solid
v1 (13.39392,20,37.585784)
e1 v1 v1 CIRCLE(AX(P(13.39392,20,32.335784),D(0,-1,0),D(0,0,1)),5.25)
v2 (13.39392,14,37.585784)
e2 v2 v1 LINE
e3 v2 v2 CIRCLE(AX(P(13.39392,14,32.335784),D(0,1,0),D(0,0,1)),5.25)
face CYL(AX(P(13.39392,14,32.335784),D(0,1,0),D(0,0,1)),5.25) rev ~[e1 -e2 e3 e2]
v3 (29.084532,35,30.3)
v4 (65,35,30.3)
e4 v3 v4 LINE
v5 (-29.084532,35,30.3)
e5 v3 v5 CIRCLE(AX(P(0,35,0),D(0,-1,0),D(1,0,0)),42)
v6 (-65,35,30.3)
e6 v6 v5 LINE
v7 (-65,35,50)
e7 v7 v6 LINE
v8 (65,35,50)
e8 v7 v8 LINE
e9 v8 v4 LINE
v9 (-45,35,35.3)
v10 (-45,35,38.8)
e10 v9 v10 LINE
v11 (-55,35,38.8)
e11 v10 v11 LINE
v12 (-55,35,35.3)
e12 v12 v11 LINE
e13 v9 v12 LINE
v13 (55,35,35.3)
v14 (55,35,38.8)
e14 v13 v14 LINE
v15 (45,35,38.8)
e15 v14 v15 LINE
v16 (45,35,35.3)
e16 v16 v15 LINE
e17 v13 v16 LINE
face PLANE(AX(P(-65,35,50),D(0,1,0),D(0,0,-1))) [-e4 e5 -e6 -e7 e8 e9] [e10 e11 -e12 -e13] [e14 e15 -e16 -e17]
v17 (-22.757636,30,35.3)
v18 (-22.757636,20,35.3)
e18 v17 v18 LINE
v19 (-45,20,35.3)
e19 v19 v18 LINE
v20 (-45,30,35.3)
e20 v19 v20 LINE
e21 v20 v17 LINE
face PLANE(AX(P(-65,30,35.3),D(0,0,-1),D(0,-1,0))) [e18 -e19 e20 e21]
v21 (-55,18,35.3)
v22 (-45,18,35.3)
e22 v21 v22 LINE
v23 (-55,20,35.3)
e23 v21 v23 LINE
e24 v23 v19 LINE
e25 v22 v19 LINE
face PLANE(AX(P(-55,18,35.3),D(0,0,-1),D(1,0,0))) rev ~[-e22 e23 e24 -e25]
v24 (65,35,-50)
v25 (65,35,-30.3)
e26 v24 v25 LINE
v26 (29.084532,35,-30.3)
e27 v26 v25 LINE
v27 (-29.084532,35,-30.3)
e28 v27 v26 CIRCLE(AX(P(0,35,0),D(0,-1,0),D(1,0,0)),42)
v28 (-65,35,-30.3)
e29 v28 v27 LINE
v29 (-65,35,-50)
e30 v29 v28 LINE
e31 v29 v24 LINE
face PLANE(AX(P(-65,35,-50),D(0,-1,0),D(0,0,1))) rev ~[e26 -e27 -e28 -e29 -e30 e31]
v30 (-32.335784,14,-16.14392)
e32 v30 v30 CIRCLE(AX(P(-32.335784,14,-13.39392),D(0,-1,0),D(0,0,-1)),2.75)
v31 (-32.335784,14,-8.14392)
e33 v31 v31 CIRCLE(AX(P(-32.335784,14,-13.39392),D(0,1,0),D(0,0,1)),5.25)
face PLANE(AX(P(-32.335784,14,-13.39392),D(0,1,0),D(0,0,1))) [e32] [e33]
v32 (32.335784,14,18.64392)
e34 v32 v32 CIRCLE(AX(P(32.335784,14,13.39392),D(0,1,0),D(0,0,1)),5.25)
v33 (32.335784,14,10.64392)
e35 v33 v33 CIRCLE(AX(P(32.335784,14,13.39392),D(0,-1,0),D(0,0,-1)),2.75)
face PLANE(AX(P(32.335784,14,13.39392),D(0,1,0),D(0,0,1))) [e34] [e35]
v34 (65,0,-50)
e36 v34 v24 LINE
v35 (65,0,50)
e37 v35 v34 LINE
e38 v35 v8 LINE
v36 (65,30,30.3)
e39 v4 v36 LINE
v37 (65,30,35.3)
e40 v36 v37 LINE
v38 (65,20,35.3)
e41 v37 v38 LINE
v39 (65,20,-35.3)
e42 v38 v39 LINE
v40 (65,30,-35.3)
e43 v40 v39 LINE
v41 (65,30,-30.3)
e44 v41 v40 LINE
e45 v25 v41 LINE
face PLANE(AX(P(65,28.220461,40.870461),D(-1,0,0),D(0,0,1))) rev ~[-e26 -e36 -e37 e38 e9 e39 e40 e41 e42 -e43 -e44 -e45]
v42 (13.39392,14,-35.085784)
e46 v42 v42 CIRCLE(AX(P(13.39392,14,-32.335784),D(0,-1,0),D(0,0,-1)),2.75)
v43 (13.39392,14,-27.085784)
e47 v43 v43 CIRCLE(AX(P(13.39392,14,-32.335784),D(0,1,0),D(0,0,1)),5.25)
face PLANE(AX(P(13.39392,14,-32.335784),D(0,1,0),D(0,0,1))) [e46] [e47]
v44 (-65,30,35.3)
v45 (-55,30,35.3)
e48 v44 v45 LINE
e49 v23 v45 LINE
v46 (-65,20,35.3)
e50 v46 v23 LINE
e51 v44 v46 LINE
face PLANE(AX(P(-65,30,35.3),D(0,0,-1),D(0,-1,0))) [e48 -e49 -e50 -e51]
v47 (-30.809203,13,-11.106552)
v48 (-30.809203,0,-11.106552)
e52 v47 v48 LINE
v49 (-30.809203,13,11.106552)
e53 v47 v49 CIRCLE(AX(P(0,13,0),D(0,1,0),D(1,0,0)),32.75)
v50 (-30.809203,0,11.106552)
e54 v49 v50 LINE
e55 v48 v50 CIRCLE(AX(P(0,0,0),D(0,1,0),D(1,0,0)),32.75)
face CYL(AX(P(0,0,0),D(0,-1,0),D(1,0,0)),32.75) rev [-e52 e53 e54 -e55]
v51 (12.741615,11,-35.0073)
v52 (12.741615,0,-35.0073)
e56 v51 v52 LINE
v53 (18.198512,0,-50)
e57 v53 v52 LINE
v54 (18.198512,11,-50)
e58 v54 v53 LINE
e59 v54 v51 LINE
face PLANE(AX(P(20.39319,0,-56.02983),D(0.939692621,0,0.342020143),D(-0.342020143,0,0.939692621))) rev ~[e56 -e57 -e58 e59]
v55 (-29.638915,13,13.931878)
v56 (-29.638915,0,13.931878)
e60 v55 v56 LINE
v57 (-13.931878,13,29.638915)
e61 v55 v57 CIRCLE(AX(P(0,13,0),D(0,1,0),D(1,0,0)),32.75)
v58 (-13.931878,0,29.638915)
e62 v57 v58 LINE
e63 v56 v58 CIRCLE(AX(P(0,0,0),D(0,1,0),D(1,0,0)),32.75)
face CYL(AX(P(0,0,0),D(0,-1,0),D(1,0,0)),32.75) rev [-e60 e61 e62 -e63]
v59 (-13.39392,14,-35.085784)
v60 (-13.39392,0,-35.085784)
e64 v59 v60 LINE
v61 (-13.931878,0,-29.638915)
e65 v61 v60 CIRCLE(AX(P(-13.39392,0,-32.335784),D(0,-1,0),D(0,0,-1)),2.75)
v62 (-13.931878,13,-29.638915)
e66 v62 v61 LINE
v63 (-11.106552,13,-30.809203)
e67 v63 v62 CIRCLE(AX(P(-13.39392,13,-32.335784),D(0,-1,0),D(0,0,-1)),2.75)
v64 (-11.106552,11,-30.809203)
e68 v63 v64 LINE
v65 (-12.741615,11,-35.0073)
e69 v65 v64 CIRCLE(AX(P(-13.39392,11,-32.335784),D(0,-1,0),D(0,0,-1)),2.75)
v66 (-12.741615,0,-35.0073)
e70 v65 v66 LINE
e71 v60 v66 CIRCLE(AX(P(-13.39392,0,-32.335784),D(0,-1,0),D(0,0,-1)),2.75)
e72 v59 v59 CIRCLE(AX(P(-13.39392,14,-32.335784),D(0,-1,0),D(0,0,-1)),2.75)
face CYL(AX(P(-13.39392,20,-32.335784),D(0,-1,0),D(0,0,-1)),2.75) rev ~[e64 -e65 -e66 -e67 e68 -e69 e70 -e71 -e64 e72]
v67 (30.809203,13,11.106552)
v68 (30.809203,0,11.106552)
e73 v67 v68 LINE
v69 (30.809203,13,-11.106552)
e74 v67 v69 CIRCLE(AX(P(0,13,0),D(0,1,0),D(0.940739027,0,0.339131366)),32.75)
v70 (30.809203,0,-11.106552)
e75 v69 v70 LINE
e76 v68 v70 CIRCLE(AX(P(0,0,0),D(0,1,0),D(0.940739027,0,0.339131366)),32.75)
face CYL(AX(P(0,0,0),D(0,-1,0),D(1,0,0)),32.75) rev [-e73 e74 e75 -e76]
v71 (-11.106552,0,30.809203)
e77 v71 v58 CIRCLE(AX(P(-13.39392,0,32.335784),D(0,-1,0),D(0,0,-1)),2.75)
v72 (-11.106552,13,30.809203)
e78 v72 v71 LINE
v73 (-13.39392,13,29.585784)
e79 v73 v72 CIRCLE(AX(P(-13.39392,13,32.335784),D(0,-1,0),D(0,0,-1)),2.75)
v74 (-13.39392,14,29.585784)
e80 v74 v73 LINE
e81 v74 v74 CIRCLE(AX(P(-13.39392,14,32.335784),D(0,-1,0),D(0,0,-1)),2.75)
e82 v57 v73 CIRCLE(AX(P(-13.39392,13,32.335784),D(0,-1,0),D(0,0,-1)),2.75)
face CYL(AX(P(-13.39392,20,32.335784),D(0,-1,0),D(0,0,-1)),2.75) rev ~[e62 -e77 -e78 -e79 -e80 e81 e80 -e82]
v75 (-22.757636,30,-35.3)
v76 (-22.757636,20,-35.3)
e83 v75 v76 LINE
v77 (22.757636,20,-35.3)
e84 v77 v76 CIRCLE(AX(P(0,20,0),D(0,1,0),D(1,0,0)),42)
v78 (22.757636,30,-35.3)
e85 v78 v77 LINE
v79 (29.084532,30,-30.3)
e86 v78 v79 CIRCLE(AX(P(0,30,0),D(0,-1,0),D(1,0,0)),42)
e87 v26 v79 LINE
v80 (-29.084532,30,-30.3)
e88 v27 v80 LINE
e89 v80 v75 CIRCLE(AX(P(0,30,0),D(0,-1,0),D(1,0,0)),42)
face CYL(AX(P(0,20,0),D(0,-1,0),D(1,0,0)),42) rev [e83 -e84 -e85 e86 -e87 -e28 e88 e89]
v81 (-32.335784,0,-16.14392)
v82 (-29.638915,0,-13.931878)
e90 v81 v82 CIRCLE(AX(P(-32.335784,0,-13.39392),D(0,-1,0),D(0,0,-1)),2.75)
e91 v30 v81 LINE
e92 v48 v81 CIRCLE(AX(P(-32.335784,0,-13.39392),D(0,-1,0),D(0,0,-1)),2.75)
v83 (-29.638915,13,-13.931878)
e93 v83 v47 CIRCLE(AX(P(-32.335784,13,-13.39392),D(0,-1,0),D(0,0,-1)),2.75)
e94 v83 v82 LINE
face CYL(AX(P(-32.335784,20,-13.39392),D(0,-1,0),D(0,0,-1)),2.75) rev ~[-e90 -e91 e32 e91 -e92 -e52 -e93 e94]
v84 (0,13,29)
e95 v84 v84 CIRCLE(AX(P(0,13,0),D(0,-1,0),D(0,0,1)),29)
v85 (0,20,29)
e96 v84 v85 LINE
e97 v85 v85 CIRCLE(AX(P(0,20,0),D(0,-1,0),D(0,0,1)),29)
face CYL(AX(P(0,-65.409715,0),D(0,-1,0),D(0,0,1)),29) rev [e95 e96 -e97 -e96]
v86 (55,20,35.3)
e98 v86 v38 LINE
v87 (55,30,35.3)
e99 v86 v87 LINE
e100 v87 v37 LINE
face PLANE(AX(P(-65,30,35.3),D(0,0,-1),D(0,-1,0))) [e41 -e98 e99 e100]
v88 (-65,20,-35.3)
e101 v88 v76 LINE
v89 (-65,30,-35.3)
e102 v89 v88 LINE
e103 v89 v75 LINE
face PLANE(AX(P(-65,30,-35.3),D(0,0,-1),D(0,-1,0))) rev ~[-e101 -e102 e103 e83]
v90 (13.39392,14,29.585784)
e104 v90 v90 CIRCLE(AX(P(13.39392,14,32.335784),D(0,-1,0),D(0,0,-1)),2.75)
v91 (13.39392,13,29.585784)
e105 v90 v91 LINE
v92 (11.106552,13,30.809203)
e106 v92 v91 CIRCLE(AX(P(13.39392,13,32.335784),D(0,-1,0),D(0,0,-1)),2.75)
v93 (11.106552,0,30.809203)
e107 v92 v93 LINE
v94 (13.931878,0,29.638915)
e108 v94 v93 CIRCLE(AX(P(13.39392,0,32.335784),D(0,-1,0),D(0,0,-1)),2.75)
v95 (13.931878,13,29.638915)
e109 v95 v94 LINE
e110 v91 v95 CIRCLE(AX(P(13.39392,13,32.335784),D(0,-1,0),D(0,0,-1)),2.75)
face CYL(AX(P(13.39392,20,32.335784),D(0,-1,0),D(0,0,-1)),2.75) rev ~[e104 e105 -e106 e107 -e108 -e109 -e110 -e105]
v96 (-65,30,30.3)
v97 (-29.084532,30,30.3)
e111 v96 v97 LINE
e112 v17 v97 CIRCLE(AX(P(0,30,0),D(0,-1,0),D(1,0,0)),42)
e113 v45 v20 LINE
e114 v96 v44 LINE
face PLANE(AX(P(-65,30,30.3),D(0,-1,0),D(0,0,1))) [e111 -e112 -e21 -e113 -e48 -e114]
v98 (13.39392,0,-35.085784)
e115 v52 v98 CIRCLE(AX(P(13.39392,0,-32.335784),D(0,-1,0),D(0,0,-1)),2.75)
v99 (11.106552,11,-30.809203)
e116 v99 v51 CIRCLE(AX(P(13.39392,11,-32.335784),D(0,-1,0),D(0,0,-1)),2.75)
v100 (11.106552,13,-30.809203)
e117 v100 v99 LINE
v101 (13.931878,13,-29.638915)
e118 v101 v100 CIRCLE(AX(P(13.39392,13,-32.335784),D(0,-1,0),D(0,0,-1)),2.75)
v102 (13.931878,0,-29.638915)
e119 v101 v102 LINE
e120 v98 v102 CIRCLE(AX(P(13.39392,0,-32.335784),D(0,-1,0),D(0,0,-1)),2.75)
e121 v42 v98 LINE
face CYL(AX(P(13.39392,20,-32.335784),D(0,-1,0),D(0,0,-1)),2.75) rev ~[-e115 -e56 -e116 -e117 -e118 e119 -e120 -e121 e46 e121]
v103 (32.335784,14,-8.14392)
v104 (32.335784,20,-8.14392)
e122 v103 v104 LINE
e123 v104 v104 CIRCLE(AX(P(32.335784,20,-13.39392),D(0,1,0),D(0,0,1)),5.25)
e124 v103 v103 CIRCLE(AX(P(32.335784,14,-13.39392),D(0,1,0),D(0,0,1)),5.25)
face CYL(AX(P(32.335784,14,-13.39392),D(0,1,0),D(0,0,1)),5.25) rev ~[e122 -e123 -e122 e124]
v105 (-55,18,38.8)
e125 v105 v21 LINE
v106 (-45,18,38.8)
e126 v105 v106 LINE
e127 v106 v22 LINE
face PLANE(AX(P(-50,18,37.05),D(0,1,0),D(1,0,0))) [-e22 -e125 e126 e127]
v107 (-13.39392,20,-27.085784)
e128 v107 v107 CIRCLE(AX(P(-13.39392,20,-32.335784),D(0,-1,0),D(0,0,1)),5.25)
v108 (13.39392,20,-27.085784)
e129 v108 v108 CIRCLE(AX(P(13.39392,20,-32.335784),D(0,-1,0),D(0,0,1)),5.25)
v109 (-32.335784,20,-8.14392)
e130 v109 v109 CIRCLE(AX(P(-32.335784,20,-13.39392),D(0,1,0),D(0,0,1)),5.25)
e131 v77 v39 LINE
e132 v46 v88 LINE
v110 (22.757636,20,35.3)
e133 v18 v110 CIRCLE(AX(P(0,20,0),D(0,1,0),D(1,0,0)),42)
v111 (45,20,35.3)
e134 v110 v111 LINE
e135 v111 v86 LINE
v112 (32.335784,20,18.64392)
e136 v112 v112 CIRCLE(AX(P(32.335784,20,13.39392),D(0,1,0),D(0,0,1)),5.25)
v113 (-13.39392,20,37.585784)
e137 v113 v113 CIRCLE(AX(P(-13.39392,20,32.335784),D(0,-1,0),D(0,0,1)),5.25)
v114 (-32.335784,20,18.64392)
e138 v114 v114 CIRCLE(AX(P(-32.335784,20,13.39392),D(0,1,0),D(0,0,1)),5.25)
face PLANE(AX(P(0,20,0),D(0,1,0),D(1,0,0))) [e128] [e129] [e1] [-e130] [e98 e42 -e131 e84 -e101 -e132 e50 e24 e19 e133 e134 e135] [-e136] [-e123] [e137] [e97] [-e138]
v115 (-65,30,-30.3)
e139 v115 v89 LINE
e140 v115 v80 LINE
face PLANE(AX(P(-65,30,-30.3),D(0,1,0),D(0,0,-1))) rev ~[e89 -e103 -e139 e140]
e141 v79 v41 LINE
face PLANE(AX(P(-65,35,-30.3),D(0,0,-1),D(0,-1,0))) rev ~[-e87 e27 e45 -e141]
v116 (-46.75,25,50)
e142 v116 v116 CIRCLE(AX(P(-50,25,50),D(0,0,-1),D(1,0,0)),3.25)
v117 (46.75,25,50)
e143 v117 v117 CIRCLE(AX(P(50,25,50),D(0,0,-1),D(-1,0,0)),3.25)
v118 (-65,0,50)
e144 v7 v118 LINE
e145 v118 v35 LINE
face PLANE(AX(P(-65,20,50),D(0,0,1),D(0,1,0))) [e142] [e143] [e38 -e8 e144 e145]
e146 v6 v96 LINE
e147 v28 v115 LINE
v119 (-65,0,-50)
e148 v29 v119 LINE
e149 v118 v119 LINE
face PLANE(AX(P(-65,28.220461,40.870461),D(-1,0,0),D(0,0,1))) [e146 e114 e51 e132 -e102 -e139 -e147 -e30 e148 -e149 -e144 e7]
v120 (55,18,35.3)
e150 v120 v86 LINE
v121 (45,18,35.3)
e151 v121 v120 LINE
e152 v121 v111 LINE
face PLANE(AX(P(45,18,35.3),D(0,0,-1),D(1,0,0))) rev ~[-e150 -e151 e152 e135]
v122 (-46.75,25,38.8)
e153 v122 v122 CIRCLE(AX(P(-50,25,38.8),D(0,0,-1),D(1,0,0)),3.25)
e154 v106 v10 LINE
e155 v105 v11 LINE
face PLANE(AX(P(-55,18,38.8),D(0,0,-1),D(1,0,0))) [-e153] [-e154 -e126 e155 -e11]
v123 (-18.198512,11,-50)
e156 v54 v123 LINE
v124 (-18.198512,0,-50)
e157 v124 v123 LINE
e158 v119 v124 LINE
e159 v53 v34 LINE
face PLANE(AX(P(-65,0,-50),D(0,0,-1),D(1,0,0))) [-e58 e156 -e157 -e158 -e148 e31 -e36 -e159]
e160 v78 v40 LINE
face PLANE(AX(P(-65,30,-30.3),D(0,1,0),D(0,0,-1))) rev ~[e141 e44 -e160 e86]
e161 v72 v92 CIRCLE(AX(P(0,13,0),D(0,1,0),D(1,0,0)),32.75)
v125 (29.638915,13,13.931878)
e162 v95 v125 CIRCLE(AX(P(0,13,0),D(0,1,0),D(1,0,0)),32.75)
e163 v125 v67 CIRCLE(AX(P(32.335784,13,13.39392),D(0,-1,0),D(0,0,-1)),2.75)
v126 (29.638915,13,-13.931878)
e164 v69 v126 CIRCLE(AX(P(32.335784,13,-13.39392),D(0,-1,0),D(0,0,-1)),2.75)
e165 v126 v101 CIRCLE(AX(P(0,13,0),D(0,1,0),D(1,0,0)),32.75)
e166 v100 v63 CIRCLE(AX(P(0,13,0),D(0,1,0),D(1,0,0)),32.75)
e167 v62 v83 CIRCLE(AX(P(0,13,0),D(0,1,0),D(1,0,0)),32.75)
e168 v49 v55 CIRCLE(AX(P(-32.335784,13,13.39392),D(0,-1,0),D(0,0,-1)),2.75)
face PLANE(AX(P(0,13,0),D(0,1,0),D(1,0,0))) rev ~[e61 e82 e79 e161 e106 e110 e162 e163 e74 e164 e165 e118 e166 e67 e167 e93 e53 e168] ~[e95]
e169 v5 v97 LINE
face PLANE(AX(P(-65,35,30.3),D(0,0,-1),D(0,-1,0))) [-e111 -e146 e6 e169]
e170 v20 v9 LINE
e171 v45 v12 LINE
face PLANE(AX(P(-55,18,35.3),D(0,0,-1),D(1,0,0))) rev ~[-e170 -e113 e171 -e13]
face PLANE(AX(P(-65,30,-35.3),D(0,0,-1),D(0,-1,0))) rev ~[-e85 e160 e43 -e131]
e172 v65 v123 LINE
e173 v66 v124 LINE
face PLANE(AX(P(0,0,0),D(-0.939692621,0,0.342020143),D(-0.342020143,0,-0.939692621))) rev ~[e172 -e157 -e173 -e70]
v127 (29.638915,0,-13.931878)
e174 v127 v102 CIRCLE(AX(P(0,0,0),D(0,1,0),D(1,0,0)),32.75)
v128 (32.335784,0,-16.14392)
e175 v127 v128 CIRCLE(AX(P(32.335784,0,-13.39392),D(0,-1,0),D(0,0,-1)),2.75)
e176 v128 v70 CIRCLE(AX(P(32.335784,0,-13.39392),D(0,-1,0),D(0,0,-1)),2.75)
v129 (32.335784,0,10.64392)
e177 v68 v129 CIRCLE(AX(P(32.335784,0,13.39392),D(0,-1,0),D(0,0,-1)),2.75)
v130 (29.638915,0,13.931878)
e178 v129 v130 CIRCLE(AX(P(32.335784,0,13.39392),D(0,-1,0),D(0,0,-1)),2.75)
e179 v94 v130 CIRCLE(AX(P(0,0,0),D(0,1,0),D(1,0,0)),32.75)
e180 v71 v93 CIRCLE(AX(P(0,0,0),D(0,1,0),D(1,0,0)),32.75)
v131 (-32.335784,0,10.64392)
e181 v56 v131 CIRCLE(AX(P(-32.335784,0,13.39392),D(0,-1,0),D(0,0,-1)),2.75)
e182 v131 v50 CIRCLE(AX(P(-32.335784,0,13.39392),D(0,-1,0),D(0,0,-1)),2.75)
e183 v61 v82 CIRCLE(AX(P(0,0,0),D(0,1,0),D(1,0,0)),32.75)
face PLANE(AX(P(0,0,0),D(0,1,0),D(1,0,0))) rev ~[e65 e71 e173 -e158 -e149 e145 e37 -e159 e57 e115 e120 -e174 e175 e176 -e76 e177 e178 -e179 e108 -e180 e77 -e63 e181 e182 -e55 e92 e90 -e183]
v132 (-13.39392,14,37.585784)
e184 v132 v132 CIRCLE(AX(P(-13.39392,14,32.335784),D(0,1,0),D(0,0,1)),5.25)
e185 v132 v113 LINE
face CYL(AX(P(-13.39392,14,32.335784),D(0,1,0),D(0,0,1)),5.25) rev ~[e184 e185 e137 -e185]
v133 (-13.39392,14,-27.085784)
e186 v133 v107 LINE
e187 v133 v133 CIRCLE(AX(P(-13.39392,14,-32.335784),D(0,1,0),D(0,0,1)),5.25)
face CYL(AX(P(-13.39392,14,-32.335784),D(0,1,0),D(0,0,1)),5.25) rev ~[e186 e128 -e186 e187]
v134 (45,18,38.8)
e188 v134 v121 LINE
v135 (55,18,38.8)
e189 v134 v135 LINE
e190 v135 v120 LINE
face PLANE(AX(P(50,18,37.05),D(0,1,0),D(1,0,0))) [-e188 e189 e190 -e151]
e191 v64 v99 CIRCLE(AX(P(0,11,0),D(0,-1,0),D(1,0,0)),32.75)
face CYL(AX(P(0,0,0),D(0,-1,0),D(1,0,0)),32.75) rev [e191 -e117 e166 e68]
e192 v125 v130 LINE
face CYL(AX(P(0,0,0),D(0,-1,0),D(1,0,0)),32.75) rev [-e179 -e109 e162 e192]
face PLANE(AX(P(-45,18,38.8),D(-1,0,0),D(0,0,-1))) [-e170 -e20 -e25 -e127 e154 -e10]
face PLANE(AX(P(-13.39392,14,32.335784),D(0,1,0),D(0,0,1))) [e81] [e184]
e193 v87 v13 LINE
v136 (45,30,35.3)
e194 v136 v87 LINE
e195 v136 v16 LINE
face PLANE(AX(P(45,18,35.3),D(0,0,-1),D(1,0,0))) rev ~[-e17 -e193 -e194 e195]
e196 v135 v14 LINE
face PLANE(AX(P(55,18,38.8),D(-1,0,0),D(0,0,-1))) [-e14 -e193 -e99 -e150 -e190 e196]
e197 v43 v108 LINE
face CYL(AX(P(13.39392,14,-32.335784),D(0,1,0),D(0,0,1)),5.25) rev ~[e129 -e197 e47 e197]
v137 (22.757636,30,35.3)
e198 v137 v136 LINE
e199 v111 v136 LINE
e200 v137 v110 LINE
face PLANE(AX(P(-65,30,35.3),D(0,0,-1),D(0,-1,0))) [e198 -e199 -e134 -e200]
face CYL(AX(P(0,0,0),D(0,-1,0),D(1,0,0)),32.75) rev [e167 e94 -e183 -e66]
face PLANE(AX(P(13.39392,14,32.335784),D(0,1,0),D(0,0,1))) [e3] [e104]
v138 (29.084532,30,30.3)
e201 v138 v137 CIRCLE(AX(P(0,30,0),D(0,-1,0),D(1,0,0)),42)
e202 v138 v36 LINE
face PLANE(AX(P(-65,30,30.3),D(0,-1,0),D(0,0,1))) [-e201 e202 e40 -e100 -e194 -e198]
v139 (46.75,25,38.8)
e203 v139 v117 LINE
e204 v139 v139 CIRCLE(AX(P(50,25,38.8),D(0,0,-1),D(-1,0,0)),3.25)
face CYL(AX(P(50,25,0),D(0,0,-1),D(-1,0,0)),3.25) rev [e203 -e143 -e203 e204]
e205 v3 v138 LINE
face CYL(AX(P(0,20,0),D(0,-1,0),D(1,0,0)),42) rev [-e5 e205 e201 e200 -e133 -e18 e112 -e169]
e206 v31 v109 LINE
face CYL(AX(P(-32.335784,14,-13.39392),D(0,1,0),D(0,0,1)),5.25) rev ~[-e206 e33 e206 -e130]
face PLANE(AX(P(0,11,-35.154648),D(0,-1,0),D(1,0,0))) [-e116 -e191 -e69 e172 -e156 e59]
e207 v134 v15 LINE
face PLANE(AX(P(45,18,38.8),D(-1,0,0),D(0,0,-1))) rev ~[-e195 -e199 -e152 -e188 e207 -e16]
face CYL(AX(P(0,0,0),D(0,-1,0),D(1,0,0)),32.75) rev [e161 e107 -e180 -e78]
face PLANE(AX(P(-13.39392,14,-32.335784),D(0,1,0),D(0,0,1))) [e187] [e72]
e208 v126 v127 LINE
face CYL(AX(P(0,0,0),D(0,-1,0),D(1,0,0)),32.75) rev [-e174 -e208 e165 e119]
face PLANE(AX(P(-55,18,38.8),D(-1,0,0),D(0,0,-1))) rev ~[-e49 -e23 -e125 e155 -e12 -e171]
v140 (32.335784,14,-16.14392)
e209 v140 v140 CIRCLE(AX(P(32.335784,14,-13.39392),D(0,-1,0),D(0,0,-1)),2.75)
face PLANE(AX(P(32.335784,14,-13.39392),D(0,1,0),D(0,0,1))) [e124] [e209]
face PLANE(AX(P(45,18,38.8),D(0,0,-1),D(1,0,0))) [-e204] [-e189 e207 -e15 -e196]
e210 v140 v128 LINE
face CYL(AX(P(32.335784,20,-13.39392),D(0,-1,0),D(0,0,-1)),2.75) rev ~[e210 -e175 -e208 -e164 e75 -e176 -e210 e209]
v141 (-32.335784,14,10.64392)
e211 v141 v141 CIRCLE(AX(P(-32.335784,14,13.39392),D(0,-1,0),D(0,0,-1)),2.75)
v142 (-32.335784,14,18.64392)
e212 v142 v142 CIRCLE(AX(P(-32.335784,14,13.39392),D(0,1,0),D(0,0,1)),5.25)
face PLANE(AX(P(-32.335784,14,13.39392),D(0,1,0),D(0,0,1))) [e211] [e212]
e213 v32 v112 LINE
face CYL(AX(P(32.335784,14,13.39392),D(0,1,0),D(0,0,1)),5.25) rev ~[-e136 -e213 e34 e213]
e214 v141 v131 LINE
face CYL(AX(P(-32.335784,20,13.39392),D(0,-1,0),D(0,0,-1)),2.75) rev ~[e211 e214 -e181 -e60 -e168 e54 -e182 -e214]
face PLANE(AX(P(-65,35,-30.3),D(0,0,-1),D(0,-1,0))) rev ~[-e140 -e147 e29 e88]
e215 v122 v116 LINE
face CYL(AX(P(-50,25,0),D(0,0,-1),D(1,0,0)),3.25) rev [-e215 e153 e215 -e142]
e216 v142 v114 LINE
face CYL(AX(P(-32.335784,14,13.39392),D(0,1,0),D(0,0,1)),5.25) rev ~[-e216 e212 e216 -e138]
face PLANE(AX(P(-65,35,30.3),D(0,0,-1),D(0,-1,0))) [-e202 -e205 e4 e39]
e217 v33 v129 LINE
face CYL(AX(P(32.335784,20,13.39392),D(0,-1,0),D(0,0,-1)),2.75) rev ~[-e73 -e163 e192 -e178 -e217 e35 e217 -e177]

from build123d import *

# Parameters (mm, degrees)
SKETCH1_W                               = 130
SKETCH1_H                               = 100
BOSS_EXTRUDE1_DEPTH                     = 20
CUT_EXTRUDE1_DEPTH                      = 85.409715081
CUT_EXTRUDE1_DEPTH_BACK                 = 85.409715081
SKETCH11_R                              = 29
CBORE_FOR_M5_HEX_HEAD_BOLT2_D           = 5.5
CBORE_FOR_M5_HEX_HEAD_BOLT2_CBORE_D     = 10.5
CBORE_FOR_M5_HEX_HEAD_BOLT2_CBORE_DEPTH = 6
SKETCH15_R                              = 32.75
CUT_EXTRUDE2_DEPTH                      = 13
BOSS_EXTRUDE2_DEPTH                     = 65
BOSS_EXTRUDE2_DEPTH_BACK                = 65
SKETCH17_R                              = 42
CUT_EXTRUDE3_DEPTH                      = 85.409715081
CUT_EXTRUDE4_DEPTH                      = 85.409715081
CUT_EXTRUDE4_DEPTH_BACK                 = 2
SKETCH18_W                              = 10
SKETCH18_H                              = 3.5
SKETCH19_R                              = 3.25
CUT_EXTRUDE5_DEPTH                      = 90.162772501
CUT_EXTRUDE7_DEPTH                      = 11


with BuildPart() as part:
    # Sketch1 → Boss-Extrude1 (new body)
    with BuildSketch(Plane(origin=(0, 0, 0), x_dir=(1, 0, 0), z_dir=(0, 1, 0))):
        Rectangle(SKETCH1_W, SKETCH1_H)
    extrude(amount=BOSS_EXTRUDE1_DEPTH)

    # Sketch11 → Cut-Extrude1 (cut, two sides: drawn at the far end of the back side and taken through both)
    with BuildSketch(Plane(origin=(0, 20, 0), x_dir=(1, 0, 0), z_dir=(0, 1, 0)).offset(-CUT_EXTRUDE1_DEPTH_BACK)):
        with Locations(Location((0, 0, 0), (0, 0, 270))):
            Circle(SKETCH11_R)
    extrude(amount=CUT_EXTRUDE1_DEPTH + CUT_EXTRUDE1_DEPTH_BACK, mode=Mode.SUBTRACT)

    # CBORE for M5 Hex Head Bolt2 (through all)
    with Locations(Plane(origin=(-32.335783638, 20, -13.393920133), x_dir=(0, 0, 1), z_dir=(0, 1, 0))):
        with Locations((0, 0), (-18.941863505, 18.941863505), (-18.941863505, 45.729703771), (0, 64.671567276), (26.787840266, 64.671567276), (45.729703771, 45.729703771), (45.729703771, 18.941863505), (26.787840266, 0)):
            CounterBoreHole(CBORE_FOR_M5_HEX_HEAD_BOLT2_D / 2, CBORE_FOR_M5_HEX_HEAD_BOLT2_CBORE_D / 2, CBORE_FOR_M5_HEX_HEAD_BOLT2_CBORE_DEPTH)

    # Sketch15 → Cut-Extrude2 (cut)
    with BuildSketch(Plane(origin=(0, 0, 0), x_dir=(1, 0, 0), z_dir=(0, 1, 0))):
        Circle(SKETCH15_R)
    extrude(amount=CUT_EXTRUDE2_DEPTH, mode=Mode.SUBTRACT)

    # Sketch16 → Boss-Extrude2 (add, two sides: drawn at the far end of the back side and taken through both)
    with BuildSketch(Plane(origin=(0, 0, 0), x_dir=(0, 0, -1), z_dir=(1, 0, 0)).offset(-BOSS_EXTRUDE2_DEPTH_BACK)):
        Polygon((-50, 20), (-50, 35), (-30.3, 35), (-30.3, 30), (-35.3, 30), (-35.3, 20), align=None)
        Polygon((30.3, 35), (30.3, 30), (35.3, 30), (35.3, 20), (50, 20), (50, 35), align=None)
    extrude(amount=BOSS_EXTRUDE2_DEPTH + BOSS_EXTRUDE2_DEPTH_BACK)

    # Sketch17 → Cut-Extrude3 (cut, through all)
    with BuildSketch(Plane(origin=(0, 20, 0), x_dir=(1, 0, 0), z_dir=(0, 1, 0))):
        Circle(SKETCH17_R)
    extrude(amount=CUT_EXTRUDE3_DEPTH, mode=Mode.SUBTRACT)

    # Sketch18 → Cut-Extrude4 (cut, two sides: drawn at the far end of the back side and taken through both)
    with BuildSketch(Plane(origin=(0, 20, 0), x_dir=(1, 0, 0), z_dir=(0, 1, 0)).offset(-CUT_EXTRUDE4_DEPTH_BACK)):
        with Locations((-50, -37.05)):
            Rectangle(SKETCH18_W, SKETCH18_H)
        with Locations((50, -37.05)):
            Rectangle(SKETCH18_W, SKETCH18_H)
    extrude(amount=CUT_EXTRUDE4_DEPTH + CUT_EXTRUDE4_DEPTH_BACK, mode=Mode.SUBTRACT)

    # Sketch19 → Cut-Extrude5 (cut, through all)
    with BuildSketch(Plane.XY):
        with Locations((-50, 25)):
            Circle(SKETCH19_R)
        with Locations(Location((50, 25, 0), (0, 0, 180))):
            Circle(SKETCH19_R)
    extrude(amount=CUT_EXTRUDE5_DEPTH, mode=Mode.SUBTRACT)

    # Sketch21 → Cut-Extrude7 (cut)
    with BuildSketch(Plane.XZ):
        Polygon((0, 0), (-20.393190362, -56.02983003), (20.393190362, -56.02983003), align=None)
    extrude(amount=-CUT_EXTRUDE7_DEPTH, mode=Mode.SUBTRACT)


solid = part.part
